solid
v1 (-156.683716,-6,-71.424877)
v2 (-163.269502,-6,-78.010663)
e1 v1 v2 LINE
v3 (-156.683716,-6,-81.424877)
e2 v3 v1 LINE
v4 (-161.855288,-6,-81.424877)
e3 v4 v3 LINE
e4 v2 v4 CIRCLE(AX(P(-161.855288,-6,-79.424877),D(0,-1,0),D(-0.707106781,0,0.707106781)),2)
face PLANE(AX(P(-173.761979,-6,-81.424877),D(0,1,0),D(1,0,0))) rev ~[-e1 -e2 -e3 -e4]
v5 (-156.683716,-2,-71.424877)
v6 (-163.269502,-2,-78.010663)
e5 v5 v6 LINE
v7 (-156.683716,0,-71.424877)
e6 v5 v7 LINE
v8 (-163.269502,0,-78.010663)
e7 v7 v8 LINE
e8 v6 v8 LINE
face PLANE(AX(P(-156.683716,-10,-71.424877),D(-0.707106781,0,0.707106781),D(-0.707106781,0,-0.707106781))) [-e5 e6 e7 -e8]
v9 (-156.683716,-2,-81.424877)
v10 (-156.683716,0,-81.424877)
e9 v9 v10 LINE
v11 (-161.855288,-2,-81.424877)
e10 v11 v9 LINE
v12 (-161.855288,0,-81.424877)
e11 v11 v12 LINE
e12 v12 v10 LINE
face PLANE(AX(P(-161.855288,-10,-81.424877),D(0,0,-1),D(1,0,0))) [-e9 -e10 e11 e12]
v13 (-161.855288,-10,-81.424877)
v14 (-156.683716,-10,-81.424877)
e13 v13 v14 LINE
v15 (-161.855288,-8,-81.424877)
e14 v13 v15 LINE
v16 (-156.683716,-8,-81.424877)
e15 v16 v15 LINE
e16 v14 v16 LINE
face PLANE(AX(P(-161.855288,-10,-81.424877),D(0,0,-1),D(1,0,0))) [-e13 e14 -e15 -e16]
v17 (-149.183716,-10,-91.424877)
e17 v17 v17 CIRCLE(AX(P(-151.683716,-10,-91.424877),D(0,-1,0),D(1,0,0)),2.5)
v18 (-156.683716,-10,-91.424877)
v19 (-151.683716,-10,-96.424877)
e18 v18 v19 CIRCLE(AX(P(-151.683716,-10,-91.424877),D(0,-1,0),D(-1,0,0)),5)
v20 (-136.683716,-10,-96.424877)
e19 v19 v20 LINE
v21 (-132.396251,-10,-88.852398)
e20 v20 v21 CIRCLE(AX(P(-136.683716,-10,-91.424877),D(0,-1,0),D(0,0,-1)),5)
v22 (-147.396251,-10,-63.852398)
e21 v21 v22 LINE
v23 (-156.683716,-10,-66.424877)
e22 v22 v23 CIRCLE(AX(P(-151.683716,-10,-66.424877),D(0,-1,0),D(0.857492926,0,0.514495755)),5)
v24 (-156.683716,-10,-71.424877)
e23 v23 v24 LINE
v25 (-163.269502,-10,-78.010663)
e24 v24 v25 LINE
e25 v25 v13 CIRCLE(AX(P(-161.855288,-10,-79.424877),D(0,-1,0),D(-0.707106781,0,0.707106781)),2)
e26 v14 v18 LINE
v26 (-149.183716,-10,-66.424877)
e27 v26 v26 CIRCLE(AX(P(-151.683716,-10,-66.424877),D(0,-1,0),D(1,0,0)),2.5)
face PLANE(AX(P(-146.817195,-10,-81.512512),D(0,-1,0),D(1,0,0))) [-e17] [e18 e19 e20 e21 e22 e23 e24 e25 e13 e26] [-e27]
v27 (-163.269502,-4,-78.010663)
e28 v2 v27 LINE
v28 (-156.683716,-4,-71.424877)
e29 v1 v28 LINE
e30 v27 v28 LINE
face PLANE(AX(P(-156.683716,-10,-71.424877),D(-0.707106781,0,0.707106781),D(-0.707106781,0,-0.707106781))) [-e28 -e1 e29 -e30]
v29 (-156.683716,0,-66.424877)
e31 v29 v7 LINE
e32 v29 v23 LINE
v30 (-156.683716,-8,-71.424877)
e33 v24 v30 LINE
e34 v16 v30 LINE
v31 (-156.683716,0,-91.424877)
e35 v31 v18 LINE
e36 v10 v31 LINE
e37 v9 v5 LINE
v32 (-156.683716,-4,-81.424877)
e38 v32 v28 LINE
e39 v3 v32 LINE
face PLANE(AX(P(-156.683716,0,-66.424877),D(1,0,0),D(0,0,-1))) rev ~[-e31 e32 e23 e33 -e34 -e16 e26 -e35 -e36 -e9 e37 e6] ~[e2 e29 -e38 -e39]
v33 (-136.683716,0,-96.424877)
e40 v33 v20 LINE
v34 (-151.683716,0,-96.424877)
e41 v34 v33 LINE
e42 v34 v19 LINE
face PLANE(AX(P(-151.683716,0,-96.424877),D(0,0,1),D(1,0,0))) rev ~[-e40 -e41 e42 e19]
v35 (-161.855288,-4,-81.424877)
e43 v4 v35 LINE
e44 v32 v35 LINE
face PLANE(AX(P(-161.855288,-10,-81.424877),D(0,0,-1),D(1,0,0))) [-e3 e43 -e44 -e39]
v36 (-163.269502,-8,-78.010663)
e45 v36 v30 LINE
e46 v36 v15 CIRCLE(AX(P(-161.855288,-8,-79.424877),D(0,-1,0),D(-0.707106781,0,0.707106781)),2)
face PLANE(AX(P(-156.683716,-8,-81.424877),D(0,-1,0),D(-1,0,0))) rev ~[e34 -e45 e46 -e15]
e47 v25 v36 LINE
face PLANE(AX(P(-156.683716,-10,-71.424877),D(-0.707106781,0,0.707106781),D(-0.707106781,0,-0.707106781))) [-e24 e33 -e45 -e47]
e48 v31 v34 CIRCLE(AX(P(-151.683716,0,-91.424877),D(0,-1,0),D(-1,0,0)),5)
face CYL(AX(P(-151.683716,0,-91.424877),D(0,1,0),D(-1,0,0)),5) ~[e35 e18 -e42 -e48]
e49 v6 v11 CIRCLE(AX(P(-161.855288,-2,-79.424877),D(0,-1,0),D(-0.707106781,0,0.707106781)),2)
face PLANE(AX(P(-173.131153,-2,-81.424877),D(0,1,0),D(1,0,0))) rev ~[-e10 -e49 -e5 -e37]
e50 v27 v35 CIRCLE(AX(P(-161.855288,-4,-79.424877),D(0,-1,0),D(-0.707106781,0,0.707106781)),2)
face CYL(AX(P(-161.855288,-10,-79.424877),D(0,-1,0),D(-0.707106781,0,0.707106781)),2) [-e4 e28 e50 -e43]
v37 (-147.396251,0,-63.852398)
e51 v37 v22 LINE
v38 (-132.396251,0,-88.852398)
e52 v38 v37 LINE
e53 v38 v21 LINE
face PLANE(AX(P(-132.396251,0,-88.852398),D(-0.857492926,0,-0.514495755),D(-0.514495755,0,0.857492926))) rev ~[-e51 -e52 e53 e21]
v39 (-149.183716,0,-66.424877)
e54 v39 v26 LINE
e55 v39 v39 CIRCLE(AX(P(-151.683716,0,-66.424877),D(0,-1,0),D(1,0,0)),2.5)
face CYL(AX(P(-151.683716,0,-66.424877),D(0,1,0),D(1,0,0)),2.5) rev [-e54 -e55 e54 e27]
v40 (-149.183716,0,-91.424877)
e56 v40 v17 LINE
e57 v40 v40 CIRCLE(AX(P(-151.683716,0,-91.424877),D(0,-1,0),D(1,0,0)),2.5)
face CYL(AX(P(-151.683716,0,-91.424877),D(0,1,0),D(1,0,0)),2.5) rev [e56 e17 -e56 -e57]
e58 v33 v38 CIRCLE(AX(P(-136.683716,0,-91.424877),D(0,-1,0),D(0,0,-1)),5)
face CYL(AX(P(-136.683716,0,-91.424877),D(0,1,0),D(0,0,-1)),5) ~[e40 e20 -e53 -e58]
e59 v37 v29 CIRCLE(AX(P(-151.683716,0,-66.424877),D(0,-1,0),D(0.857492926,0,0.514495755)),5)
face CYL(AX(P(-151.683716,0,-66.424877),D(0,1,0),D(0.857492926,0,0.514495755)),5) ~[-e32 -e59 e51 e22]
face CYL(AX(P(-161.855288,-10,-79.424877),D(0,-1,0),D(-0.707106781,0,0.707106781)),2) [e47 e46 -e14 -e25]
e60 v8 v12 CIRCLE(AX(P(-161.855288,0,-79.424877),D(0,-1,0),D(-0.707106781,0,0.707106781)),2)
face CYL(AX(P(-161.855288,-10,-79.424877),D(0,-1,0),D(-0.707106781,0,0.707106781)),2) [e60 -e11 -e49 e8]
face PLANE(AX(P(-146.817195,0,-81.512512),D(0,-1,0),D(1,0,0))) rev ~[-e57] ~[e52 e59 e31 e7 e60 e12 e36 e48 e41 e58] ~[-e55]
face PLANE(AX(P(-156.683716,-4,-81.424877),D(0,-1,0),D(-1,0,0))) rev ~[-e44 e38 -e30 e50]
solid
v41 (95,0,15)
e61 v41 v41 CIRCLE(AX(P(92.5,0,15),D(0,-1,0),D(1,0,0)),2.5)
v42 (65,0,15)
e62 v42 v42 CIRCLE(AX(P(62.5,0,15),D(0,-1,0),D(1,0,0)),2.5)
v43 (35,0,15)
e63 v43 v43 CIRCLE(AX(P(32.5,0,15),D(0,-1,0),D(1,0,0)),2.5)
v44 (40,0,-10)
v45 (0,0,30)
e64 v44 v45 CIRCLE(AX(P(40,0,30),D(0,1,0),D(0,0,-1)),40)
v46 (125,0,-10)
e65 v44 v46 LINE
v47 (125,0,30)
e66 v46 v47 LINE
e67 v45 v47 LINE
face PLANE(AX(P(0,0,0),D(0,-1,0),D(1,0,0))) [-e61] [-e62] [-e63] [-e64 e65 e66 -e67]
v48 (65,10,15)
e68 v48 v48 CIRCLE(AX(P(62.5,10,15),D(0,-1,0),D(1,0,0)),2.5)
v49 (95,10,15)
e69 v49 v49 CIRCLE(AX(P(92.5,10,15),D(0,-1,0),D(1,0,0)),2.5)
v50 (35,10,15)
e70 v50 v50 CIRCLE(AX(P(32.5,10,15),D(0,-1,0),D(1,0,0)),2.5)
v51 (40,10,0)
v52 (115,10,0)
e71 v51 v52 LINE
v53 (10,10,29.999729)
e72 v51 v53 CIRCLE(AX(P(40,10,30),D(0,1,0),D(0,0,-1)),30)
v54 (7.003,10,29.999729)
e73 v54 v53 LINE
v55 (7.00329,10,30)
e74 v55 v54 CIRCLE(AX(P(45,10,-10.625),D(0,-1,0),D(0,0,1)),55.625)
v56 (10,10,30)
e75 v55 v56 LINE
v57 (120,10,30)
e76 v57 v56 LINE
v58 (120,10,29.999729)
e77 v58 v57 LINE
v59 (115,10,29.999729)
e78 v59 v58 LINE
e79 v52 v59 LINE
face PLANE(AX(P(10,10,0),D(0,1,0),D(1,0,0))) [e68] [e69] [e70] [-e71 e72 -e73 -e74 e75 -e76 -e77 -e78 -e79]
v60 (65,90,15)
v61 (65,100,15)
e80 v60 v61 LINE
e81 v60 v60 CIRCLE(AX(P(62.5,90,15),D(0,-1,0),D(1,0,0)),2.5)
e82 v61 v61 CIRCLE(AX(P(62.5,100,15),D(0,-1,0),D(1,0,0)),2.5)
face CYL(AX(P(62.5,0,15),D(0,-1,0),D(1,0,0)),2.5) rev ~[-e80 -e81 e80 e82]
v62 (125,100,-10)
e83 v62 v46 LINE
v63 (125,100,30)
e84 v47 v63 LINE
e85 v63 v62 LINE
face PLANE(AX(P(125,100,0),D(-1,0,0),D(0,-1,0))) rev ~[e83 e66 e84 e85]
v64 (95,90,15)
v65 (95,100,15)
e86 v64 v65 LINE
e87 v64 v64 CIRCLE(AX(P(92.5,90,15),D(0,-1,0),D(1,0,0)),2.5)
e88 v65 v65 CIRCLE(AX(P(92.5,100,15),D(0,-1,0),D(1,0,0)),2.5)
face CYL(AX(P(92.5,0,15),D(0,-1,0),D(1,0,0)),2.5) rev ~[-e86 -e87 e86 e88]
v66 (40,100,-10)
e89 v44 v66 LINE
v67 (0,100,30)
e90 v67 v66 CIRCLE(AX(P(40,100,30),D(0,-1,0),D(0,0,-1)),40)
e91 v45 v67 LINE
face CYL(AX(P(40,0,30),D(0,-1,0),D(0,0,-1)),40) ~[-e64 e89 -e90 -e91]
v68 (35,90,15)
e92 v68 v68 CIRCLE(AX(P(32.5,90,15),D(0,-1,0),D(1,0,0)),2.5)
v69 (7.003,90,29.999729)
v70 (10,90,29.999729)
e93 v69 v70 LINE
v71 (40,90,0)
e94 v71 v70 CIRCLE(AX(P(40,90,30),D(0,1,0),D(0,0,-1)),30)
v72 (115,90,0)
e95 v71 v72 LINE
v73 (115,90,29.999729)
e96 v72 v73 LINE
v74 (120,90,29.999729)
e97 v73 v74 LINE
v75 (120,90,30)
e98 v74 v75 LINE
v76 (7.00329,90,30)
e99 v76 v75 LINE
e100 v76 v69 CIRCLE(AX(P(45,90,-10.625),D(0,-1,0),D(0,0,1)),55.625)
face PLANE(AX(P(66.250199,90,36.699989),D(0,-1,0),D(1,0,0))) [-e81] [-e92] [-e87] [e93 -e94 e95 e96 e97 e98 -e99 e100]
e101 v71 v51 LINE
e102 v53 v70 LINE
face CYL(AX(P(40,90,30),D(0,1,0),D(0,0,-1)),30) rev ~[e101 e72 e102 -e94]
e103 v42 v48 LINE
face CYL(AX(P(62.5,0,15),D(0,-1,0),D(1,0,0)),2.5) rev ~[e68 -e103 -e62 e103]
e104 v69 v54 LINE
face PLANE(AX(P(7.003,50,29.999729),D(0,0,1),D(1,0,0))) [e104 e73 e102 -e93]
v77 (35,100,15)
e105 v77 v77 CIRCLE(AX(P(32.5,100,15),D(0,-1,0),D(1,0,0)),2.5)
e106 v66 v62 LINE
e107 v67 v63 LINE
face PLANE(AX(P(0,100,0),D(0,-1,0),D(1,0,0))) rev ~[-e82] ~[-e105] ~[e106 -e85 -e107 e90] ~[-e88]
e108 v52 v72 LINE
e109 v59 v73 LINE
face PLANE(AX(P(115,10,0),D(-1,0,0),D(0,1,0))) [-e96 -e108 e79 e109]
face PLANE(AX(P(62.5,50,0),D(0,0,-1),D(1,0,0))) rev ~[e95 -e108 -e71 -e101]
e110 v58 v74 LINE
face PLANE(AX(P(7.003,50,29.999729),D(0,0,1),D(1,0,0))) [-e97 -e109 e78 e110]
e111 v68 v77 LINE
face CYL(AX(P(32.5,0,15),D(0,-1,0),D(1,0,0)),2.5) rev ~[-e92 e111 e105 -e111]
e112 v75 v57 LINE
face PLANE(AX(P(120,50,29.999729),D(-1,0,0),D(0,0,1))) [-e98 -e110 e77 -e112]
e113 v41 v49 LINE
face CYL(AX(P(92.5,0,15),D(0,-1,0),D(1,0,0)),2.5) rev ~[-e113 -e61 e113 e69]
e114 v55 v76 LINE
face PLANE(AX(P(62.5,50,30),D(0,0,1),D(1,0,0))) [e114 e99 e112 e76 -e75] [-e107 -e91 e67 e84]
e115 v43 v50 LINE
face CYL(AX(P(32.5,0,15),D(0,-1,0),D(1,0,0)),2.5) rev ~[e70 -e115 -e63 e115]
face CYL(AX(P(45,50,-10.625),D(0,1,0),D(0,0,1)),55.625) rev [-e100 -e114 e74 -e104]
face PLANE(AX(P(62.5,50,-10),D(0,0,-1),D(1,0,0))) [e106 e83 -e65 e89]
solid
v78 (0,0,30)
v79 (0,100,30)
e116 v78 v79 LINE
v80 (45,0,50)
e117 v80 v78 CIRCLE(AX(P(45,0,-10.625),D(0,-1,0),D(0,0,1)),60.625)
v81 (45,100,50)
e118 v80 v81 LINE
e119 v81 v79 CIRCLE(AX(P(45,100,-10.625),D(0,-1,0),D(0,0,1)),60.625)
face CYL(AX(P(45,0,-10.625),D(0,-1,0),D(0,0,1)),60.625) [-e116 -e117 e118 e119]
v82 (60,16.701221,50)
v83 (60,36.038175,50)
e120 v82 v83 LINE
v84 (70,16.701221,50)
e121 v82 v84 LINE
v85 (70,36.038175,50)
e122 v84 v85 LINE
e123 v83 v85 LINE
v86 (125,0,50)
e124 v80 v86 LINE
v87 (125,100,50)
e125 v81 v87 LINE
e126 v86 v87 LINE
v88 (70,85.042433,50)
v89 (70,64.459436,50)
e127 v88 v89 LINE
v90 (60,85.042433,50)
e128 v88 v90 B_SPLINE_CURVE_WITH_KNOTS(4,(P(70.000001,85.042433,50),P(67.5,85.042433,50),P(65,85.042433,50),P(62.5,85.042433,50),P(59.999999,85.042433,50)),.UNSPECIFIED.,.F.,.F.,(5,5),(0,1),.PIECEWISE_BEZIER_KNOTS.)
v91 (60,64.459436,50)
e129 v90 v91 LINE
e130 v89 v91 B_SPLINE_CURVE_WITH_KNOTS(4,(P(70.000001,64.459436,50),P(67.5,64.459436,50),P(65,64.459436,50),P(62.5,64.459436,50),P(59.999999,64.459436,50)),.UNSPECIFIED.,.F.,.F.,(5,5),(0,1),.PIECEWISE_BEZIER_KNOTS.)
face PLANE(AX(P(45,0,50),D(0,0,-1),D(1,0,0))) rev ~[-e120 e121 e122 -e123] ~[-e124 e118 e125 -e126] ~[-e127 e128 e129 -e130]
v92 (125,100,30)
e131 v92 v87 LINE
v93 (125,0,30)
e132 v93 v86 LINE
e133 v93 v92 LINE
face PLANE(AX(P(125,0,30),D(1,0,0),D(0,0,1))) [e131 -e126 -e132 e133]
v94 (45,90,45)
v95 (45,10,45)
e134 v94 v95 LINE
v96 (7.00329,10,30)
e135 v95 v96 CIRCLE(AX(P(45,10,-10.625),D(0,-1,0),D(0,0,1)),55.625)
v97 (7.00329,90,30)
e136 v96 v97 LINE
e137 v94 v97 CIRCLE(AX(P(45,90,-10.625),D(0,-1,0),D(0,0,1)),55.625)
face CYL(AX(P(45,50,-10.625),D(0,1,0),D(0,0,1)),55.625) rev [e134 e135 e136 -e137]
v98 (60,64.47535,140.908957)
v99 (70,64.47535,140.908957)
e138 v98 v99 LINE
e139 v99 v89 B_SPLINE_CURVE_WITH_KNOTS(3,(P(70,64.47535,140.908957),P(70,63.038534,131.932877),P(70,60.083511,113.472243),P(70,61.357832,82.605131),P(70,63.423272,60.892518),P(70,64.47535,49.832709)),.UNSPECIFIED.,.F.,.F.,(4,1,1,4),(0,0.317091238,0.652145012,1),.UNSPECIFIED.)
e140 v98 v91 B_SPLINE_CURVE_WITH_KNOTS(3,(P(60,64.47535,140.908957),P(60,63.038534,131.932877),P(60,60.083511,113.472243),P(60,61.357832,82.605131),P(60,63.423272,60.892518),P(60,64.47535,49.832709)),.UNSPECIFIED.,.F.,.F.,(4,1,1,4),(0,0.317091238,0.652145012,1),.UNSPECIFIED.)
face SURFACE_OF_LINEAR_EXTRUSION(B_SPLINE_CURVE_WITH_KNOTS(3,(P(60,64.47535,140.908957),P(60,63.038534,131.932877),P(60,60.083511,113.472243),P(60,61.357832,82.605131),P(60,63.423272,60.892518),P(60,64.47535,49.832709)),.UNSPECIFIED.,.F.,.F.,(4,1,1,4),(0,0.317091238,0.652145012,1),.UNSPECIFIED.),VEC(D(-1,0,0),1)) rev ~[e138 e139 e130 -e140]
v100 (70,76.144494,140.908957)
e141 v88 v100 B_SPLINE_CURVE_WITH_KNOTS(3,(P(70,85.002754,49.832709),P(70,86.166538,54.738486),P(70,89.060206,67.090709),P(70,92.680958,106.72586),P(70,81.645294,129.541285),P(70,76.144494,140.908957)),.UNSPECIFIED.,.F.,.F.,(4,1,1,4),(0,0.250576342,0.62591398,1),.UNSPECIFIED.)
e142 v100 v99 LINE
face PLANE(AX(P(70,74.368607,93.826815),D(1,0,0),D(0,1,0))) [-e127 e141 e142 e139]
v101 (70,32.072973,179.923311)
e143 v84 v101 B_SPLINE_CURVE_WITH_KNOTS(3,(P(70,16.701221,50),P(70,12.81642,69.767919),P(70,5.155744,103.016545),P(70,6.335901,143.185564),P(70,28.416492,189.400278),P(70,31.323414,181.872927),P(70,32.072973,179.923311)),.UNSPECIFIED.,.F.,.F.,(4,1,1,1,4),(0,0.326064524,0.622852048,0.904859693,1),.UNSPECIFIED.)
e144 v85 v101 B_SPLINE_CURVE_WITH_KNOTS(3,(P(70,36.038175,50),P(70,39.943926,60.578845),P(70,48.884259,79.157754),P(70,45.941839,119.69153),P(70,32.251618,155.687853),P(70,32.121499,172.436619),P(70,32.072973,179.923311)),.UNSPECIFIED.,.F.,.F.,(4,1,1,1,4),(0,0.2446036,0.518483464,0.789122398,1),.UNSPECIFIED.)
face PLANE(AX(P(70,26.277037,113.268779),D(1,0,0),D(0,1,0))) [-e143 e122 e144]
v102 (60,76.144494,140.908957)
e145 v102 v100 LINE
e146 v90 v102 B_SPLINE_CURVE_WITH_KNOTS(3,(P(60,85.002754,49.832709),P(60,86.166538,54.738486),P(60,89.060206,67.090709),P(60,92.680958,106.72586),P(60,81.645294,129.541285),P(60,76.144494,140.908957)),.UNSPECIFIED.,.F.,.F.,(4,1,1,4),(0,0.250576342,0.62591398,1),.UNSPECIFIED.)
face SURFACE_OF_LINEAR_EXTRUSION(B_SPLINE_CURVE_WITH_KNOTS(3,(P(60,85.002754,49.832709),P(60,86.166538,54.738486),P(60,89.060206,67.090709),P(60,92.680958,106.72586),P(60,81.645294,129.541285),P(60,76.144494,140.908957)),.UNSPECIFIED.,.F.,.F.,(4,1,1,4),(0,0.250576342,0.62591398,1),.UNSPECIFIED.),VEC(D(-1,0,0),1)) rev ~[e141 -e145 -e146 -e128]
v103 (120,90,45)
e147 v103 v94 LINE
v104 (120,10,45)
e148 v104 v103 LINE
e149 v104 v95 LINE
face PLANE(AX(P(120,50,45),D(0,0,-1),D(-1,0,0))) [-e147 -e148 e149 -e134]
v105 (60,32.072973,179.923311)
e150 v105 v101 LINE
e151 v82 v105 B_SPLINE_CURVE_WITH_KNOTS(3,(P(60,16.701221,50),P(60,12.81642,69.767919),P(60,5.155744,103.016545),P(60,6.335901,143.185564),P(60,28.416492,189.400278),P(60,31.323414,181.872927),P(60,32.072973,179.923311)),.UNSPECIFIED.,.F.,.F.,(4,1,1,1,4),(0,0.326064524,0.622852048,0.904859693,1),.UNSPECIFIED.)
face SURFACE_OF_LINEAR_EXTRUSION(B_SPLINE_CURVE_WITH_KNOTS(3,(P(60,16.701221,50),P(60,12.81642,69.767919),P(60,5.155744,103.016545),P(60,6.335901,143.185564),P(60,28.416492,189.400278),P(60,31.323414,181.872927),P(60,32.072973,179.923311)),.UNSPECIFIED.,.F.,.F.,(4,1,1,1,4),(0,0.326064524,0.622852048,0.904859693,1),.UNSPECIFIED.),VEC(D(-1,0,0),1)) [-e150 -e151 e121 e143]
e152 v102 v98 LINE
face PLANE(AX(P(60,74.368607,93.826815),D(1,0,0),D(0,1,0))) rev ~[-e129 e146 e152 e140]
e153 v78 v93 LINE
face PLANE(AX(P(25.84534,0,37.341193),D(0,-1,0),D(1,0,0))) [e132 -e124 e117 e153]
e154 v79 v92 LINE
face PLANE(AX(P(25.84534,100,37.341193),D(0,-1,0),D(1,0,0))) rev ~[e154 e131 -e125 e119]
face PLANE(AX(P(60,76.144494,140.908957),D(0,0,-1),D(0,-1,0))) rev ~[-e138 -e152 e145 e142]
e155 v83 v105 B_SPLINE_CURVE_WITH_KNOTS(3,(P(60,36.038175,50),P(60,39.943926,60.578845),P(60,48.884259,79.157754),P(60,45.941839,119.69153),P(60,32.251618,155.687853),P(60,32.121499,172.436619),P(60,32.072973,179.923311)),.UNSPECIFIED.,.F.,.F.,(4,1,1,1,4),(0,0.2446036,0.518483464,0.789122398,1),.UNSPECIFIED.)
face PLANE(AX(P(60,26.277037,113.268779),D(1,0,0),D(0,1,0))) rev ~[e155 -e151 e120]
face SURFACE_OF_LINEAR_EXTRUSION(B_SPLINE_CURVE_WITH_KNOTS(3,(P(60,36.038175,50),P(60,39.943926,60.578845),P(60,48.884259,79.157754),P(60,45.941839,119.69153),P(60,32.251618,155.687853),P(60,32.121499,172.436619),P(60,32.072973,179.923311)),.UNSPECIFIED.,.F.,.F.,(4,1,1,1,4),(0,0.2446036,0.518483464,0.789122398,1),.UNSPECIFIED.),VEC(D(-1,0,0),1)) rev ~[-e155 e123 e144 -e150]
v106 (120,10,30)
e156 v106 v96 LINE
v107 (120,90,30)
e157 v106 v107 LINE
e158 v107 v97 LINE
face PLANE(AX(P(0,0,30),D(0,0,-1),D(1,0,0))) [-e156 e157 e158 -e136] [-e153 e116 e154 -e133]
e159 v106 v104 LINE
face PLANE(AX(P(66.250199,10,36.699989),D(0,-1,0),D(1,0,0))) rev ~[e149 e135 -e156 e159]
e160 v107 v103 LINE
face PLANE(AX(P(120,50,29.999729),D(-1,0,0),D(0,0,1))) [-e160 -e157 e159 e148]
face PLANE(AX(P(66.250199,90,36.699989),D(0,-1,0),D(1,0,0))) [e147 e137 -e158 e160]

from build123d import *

# Parameters (mm, degrees)
F0_W           = 125
F0_H           = 100
F0_W_2         = 105
F0_H_2         = 80
F1_DEPTH       = 30
F2_R           = 2.5
F3_DEPTH       = 100.001
F4_W           = 125
F4_H           = 100
F4_W_2         = 105
F4_H_2         = 80
F5_DEPTH       = 10
F7_DEPTH       = 6666
F9_DEPTH       = 83.4
F10_W          = 80
F10_H          = 20
F11_DEPTH      = 100
F15_DEPTH      = 10
F17_DEPTH      = 40
F17_DEPTH_BACK = 40
F18_R          = 2.5
F19_DEPTH      = 10
F21_DEPTH      = 10
F22_W          = 11.9066902784
F22_H          = 2
F22_W_2        = 5.1715728753
F22_W_3        = 11.2758645205
F23_DEPTH      = 25


with BuildPart() as f1:
    # F0 (on Top) → F1 (new body)
    with BuildSketch(Plane.XY):
        with Locations((62.5, 50)):
            Rectangle(F0_W, F0_H)
        with Locations((62.5, 50)):
            Rectangle(F0_W_2, F0_H_2, mode=Mode.SUBTRACT)
    extrude(amount=F1_DEPTH)

    # F2 (on face) → F3 (cut, through all)
    with BuildSketch(Plane.XZ):
        with Locations((32.5, 15)):
            Circle(F2_R)
        with Locations((62.5, 15)):
            Circle(F2_R)
        with Locations((92.5, 15)):
            Circle(F2_R)
    extrude(amount=-F3_DEPTH, mode=Mode.SUBTRACT)

    # F4 (on face) → F5 (join)
    with BuildSketch(Plane(origin=(0, 0, 0), x_dir=(1, 0, 0), z_dir=(0, 0, -1))):
        with Locations((62.5, -50)):
            Rectangle(F4_W, F4_H)
        with Locations((62.5, -50)):
            Rectangle(F4_W_2, F4_H_2, mode=Mode.SUBTRACT)
        with Locations((62.5, -50)):
            Rectangle(F4_W_2, F4_H_2)
    extrude(amount=F5_DEPTH)

    # F6 (on face) → F7 (cut)
    with BuildSketch(Plane.XZ):
        Polygon((0, -10), (0, 30), (-36.8616729975, 33.3101339638), (-29.7704413533, -57.1963898838), (40, -10), align=None)
        with BuildLine():
            ThreePointArc((40, -10), (11.7157287525, 1.7157287525), (0, 30))
            Line((0, 30), (0, -10))
            Line((0, -10), (40, -10))
        make_face()
    extrude(amount=-F7_DEPTH, mode=Mode.SUBTRACT)

    # F8 (on face) → F9 (join)
    with BuildSketch(Plane.XZ.offset(-90)):
        with BuildLine():
            Line((10, 30), (10, 3.5424868894))
            ThreePointArc((10, 3.5424868894), (11.7157287525, 1.7157287525), (13.5424868894, 0))
            Line((13.5424868894, 0), (40, 0))
            ThreePointArc((40, 0), (18.7867965644, 8.7867965644), (10, 30))
        make_face()
    extrude(amount=F9_DEPTH)


with BuildPart() as f11:
    # F10 (on face) → F11 (new body)
    with BuildSketch(Plane.XZ):
        with BuildLine():
            Line((0, 30), (45, 30))
            Line((45, 30), (45, 50))
            ThreePointArc((45, 50), (20.3778554955, 44.7748251351), (0, 30))
        make_face()
        with Locations((85, 40)):
            Rectangle(F10_W, F10_H)
    extrude(amount=-F11_DEPTH)

    # F14 (on offset) → F15 (join)
    with BuildSketch(Plane.YZ.offset(60)):
        with BuildLine():
            Line((64.4753500819, 49.8327091336), (85.0027536981, 49.8327091336))
            add(Edge.make_bspline(
                [(85.0027536981, 49.8327091336), (86.1665383789, 54.7384858339), (89.0602060082, 67.0907089545), (92.6809583428, 106.7258604967), (81.6452944269, 129.5412851185), (76.1444941163, 140.9089565277)],
                knots=[0, 0, 0, 0, 0.2505763425, 0.6259139796, 1, 1, 1, 1], degree=3))
            Line((76.1444941163, 140.9089565277), (64.4753500819, 140.9089565277))
            add(Edge.make_bspline(
                [(64.4753500819, 140.9089565277), (63.0385344229, 131.9328773477), (60.0835105921, 113.4722434338), (61.3578321961, 82.6051306794), (63.4232718078, 60.892518239), (64.4753500819, 49.8327091336)],
                knots=[0, 0, 0, 0, 0.3170912381, 0.6521450118, 1, 1, 1, 1], degree=3))
        make_face()
        with BuildLine():
            Line((16.7012212295, 50), (36.0381749595, 50))
            add(Edge.make_bspline(
                [(36.0381749595, 50), (39.9439264096, 60.5788452322), (48.8842587835, 79.1577540087), (45.9418389645, 119.6915304439), (32.2516183868, 155.6878532796), (32.1214988224, 172.4366188097), (32.0729725063, 179.9233108759)],
                knots=[0, 0, 0, 0, 0.2446036002, 0.518483464, 0.7891223984, 1, 1, 1, 1], degree=3))
            add(Edge.make_bspline(
                [(16.7012212295, 50), (12.8164200839, 69.7679192689), (5.1557437253, 103.0165449914), (6.3359006778, 143.1855642768), (28.4164917181, 189.4002776519), (31.3234141752, 181.8729274365), (32.0729725063, 179.9233108759)],
                knots=[0, 0, 0, 0, 0.3260645241, 0.6228520483, 0.9048596934, 1, 1, 1, 1], degree=3))
        make_face()
    extrude(amount=F15_DEPTH)


with BuildPart() as f17_tool:
    # F16 (on offset) → F17 (new body, two sides)
    with BuildSketch(Plane.XZ.offset(-50)) as f17_sk:
        with BuildLine():
            Line((120, 45), (45, 45))
            ThreePointArc((45, 45), (24.5746472766, 41.1142074845), (7.003, 29.9997291191))
            Line((7.003, 29.9997291191), (120, 29.9997291191))
            Line((120, 29.9997291191), (120, 45))
        make_face()
    extrude(amount=-F17_DEPTH)
    extrude(f17_sk.sketch, amount=F17_DEPTH_BACK)


with BuildPart() as f1_1:
    add(f1.part)

    # F17: cut by f17_tool
    add(f17_tool.part, mode=Mode.SUBTRACT)


with BuildPart() as f11_1:
    add(f11.part)

    # F17: cut by f17_tool
    add(f17_tool.part, mode=Mode.SUBTRACT)


with BuildPart() as f19:
    # F18 (on Front) → F19 (new body)
    with BuildSketch(Plane.XZ):
        with BuildLine():
            ThreePointArc((-147.3962509632, -63.8523980975), (-153.0183835013, -61.6063022336), (-156.6837155918, -66.4248768747))
            Line((-156.6837155918, -66.4248768747), (-156.6837155918, -91.4248768747))
            ThreePointArc((-156.6837155918, -91.4248768747), (-155.2192494977, -94.9604107806), (-151.6837155918, -96.4248768747))
            Line((-151.6837155918, -96.4248768747), (-136.6837155918, -96.4248768747))
            ThreePointArc((-136.6837155918, -96.4248768747), (-132.332716058, -93.8883709496), (-132.3962509632, -88.8523980975))
            Line((-132.3962509632, -88.8523980975), (-147.3962509632, -63.8523980975))
        make_face()
        with Locations((-151.6837155918, -91.4248768747)):
            Circle(F18_R, mode=Mode.SUBTRACT)
        with Locations((-151.6837155918, -66.4248768747)):
            Circle(F18_R, mode=Mode.SUBTRACT)
    extrude(amount=F19_DEPTH)

    # F20 (on face) → F21 (join)
    with BuildSketch(Plane.XZ.offset(10)):
        with BuildLine():
            Line((-156.6837155918, -81.4248768747), (-156.6837155918, -71.4248768747))
            Line((-156.6837155918, -71.4248768747), (-163.2695020294, -78.0106633123))
            ThreePointArc((-163.2695020294, -78.0106633123), (-163.7030475321, -80.1902437394), (-161.855288467, -81.4248768747))
            Line((-161.855288467, -81.4248768747), (-156.6837155918, -81.4248768747))
        make_face()
    extrude(amount=-F21_DEPTH)

    # F22 (on face) → F23 (cut)
    with BuildSketch(Plane(origin=(0, 0, -81.4248768747), x_dir=(1, 0, 0), z_dir=(0, 0, -1))):
        with Locations((-167.8086336062, 7)):
            Rectangle(F22_W, F22_H)
        with Locations((-159.2695020294, 3)):
            Rectangle(F22_W_2, F22_H)
        with Locations((-159.2695020294, 7)):
            Rectangle(F22_W_2, F22_H)
        with Locations((-167.4932207273, 3)):
            Rectangle(F22_W_3, F22_H)
    extrude(amount=-F23_DEPTH, mode=Mode.SUBTRACT)


solid = Compound([f1_1.part, f11_1.part, f19.part])
